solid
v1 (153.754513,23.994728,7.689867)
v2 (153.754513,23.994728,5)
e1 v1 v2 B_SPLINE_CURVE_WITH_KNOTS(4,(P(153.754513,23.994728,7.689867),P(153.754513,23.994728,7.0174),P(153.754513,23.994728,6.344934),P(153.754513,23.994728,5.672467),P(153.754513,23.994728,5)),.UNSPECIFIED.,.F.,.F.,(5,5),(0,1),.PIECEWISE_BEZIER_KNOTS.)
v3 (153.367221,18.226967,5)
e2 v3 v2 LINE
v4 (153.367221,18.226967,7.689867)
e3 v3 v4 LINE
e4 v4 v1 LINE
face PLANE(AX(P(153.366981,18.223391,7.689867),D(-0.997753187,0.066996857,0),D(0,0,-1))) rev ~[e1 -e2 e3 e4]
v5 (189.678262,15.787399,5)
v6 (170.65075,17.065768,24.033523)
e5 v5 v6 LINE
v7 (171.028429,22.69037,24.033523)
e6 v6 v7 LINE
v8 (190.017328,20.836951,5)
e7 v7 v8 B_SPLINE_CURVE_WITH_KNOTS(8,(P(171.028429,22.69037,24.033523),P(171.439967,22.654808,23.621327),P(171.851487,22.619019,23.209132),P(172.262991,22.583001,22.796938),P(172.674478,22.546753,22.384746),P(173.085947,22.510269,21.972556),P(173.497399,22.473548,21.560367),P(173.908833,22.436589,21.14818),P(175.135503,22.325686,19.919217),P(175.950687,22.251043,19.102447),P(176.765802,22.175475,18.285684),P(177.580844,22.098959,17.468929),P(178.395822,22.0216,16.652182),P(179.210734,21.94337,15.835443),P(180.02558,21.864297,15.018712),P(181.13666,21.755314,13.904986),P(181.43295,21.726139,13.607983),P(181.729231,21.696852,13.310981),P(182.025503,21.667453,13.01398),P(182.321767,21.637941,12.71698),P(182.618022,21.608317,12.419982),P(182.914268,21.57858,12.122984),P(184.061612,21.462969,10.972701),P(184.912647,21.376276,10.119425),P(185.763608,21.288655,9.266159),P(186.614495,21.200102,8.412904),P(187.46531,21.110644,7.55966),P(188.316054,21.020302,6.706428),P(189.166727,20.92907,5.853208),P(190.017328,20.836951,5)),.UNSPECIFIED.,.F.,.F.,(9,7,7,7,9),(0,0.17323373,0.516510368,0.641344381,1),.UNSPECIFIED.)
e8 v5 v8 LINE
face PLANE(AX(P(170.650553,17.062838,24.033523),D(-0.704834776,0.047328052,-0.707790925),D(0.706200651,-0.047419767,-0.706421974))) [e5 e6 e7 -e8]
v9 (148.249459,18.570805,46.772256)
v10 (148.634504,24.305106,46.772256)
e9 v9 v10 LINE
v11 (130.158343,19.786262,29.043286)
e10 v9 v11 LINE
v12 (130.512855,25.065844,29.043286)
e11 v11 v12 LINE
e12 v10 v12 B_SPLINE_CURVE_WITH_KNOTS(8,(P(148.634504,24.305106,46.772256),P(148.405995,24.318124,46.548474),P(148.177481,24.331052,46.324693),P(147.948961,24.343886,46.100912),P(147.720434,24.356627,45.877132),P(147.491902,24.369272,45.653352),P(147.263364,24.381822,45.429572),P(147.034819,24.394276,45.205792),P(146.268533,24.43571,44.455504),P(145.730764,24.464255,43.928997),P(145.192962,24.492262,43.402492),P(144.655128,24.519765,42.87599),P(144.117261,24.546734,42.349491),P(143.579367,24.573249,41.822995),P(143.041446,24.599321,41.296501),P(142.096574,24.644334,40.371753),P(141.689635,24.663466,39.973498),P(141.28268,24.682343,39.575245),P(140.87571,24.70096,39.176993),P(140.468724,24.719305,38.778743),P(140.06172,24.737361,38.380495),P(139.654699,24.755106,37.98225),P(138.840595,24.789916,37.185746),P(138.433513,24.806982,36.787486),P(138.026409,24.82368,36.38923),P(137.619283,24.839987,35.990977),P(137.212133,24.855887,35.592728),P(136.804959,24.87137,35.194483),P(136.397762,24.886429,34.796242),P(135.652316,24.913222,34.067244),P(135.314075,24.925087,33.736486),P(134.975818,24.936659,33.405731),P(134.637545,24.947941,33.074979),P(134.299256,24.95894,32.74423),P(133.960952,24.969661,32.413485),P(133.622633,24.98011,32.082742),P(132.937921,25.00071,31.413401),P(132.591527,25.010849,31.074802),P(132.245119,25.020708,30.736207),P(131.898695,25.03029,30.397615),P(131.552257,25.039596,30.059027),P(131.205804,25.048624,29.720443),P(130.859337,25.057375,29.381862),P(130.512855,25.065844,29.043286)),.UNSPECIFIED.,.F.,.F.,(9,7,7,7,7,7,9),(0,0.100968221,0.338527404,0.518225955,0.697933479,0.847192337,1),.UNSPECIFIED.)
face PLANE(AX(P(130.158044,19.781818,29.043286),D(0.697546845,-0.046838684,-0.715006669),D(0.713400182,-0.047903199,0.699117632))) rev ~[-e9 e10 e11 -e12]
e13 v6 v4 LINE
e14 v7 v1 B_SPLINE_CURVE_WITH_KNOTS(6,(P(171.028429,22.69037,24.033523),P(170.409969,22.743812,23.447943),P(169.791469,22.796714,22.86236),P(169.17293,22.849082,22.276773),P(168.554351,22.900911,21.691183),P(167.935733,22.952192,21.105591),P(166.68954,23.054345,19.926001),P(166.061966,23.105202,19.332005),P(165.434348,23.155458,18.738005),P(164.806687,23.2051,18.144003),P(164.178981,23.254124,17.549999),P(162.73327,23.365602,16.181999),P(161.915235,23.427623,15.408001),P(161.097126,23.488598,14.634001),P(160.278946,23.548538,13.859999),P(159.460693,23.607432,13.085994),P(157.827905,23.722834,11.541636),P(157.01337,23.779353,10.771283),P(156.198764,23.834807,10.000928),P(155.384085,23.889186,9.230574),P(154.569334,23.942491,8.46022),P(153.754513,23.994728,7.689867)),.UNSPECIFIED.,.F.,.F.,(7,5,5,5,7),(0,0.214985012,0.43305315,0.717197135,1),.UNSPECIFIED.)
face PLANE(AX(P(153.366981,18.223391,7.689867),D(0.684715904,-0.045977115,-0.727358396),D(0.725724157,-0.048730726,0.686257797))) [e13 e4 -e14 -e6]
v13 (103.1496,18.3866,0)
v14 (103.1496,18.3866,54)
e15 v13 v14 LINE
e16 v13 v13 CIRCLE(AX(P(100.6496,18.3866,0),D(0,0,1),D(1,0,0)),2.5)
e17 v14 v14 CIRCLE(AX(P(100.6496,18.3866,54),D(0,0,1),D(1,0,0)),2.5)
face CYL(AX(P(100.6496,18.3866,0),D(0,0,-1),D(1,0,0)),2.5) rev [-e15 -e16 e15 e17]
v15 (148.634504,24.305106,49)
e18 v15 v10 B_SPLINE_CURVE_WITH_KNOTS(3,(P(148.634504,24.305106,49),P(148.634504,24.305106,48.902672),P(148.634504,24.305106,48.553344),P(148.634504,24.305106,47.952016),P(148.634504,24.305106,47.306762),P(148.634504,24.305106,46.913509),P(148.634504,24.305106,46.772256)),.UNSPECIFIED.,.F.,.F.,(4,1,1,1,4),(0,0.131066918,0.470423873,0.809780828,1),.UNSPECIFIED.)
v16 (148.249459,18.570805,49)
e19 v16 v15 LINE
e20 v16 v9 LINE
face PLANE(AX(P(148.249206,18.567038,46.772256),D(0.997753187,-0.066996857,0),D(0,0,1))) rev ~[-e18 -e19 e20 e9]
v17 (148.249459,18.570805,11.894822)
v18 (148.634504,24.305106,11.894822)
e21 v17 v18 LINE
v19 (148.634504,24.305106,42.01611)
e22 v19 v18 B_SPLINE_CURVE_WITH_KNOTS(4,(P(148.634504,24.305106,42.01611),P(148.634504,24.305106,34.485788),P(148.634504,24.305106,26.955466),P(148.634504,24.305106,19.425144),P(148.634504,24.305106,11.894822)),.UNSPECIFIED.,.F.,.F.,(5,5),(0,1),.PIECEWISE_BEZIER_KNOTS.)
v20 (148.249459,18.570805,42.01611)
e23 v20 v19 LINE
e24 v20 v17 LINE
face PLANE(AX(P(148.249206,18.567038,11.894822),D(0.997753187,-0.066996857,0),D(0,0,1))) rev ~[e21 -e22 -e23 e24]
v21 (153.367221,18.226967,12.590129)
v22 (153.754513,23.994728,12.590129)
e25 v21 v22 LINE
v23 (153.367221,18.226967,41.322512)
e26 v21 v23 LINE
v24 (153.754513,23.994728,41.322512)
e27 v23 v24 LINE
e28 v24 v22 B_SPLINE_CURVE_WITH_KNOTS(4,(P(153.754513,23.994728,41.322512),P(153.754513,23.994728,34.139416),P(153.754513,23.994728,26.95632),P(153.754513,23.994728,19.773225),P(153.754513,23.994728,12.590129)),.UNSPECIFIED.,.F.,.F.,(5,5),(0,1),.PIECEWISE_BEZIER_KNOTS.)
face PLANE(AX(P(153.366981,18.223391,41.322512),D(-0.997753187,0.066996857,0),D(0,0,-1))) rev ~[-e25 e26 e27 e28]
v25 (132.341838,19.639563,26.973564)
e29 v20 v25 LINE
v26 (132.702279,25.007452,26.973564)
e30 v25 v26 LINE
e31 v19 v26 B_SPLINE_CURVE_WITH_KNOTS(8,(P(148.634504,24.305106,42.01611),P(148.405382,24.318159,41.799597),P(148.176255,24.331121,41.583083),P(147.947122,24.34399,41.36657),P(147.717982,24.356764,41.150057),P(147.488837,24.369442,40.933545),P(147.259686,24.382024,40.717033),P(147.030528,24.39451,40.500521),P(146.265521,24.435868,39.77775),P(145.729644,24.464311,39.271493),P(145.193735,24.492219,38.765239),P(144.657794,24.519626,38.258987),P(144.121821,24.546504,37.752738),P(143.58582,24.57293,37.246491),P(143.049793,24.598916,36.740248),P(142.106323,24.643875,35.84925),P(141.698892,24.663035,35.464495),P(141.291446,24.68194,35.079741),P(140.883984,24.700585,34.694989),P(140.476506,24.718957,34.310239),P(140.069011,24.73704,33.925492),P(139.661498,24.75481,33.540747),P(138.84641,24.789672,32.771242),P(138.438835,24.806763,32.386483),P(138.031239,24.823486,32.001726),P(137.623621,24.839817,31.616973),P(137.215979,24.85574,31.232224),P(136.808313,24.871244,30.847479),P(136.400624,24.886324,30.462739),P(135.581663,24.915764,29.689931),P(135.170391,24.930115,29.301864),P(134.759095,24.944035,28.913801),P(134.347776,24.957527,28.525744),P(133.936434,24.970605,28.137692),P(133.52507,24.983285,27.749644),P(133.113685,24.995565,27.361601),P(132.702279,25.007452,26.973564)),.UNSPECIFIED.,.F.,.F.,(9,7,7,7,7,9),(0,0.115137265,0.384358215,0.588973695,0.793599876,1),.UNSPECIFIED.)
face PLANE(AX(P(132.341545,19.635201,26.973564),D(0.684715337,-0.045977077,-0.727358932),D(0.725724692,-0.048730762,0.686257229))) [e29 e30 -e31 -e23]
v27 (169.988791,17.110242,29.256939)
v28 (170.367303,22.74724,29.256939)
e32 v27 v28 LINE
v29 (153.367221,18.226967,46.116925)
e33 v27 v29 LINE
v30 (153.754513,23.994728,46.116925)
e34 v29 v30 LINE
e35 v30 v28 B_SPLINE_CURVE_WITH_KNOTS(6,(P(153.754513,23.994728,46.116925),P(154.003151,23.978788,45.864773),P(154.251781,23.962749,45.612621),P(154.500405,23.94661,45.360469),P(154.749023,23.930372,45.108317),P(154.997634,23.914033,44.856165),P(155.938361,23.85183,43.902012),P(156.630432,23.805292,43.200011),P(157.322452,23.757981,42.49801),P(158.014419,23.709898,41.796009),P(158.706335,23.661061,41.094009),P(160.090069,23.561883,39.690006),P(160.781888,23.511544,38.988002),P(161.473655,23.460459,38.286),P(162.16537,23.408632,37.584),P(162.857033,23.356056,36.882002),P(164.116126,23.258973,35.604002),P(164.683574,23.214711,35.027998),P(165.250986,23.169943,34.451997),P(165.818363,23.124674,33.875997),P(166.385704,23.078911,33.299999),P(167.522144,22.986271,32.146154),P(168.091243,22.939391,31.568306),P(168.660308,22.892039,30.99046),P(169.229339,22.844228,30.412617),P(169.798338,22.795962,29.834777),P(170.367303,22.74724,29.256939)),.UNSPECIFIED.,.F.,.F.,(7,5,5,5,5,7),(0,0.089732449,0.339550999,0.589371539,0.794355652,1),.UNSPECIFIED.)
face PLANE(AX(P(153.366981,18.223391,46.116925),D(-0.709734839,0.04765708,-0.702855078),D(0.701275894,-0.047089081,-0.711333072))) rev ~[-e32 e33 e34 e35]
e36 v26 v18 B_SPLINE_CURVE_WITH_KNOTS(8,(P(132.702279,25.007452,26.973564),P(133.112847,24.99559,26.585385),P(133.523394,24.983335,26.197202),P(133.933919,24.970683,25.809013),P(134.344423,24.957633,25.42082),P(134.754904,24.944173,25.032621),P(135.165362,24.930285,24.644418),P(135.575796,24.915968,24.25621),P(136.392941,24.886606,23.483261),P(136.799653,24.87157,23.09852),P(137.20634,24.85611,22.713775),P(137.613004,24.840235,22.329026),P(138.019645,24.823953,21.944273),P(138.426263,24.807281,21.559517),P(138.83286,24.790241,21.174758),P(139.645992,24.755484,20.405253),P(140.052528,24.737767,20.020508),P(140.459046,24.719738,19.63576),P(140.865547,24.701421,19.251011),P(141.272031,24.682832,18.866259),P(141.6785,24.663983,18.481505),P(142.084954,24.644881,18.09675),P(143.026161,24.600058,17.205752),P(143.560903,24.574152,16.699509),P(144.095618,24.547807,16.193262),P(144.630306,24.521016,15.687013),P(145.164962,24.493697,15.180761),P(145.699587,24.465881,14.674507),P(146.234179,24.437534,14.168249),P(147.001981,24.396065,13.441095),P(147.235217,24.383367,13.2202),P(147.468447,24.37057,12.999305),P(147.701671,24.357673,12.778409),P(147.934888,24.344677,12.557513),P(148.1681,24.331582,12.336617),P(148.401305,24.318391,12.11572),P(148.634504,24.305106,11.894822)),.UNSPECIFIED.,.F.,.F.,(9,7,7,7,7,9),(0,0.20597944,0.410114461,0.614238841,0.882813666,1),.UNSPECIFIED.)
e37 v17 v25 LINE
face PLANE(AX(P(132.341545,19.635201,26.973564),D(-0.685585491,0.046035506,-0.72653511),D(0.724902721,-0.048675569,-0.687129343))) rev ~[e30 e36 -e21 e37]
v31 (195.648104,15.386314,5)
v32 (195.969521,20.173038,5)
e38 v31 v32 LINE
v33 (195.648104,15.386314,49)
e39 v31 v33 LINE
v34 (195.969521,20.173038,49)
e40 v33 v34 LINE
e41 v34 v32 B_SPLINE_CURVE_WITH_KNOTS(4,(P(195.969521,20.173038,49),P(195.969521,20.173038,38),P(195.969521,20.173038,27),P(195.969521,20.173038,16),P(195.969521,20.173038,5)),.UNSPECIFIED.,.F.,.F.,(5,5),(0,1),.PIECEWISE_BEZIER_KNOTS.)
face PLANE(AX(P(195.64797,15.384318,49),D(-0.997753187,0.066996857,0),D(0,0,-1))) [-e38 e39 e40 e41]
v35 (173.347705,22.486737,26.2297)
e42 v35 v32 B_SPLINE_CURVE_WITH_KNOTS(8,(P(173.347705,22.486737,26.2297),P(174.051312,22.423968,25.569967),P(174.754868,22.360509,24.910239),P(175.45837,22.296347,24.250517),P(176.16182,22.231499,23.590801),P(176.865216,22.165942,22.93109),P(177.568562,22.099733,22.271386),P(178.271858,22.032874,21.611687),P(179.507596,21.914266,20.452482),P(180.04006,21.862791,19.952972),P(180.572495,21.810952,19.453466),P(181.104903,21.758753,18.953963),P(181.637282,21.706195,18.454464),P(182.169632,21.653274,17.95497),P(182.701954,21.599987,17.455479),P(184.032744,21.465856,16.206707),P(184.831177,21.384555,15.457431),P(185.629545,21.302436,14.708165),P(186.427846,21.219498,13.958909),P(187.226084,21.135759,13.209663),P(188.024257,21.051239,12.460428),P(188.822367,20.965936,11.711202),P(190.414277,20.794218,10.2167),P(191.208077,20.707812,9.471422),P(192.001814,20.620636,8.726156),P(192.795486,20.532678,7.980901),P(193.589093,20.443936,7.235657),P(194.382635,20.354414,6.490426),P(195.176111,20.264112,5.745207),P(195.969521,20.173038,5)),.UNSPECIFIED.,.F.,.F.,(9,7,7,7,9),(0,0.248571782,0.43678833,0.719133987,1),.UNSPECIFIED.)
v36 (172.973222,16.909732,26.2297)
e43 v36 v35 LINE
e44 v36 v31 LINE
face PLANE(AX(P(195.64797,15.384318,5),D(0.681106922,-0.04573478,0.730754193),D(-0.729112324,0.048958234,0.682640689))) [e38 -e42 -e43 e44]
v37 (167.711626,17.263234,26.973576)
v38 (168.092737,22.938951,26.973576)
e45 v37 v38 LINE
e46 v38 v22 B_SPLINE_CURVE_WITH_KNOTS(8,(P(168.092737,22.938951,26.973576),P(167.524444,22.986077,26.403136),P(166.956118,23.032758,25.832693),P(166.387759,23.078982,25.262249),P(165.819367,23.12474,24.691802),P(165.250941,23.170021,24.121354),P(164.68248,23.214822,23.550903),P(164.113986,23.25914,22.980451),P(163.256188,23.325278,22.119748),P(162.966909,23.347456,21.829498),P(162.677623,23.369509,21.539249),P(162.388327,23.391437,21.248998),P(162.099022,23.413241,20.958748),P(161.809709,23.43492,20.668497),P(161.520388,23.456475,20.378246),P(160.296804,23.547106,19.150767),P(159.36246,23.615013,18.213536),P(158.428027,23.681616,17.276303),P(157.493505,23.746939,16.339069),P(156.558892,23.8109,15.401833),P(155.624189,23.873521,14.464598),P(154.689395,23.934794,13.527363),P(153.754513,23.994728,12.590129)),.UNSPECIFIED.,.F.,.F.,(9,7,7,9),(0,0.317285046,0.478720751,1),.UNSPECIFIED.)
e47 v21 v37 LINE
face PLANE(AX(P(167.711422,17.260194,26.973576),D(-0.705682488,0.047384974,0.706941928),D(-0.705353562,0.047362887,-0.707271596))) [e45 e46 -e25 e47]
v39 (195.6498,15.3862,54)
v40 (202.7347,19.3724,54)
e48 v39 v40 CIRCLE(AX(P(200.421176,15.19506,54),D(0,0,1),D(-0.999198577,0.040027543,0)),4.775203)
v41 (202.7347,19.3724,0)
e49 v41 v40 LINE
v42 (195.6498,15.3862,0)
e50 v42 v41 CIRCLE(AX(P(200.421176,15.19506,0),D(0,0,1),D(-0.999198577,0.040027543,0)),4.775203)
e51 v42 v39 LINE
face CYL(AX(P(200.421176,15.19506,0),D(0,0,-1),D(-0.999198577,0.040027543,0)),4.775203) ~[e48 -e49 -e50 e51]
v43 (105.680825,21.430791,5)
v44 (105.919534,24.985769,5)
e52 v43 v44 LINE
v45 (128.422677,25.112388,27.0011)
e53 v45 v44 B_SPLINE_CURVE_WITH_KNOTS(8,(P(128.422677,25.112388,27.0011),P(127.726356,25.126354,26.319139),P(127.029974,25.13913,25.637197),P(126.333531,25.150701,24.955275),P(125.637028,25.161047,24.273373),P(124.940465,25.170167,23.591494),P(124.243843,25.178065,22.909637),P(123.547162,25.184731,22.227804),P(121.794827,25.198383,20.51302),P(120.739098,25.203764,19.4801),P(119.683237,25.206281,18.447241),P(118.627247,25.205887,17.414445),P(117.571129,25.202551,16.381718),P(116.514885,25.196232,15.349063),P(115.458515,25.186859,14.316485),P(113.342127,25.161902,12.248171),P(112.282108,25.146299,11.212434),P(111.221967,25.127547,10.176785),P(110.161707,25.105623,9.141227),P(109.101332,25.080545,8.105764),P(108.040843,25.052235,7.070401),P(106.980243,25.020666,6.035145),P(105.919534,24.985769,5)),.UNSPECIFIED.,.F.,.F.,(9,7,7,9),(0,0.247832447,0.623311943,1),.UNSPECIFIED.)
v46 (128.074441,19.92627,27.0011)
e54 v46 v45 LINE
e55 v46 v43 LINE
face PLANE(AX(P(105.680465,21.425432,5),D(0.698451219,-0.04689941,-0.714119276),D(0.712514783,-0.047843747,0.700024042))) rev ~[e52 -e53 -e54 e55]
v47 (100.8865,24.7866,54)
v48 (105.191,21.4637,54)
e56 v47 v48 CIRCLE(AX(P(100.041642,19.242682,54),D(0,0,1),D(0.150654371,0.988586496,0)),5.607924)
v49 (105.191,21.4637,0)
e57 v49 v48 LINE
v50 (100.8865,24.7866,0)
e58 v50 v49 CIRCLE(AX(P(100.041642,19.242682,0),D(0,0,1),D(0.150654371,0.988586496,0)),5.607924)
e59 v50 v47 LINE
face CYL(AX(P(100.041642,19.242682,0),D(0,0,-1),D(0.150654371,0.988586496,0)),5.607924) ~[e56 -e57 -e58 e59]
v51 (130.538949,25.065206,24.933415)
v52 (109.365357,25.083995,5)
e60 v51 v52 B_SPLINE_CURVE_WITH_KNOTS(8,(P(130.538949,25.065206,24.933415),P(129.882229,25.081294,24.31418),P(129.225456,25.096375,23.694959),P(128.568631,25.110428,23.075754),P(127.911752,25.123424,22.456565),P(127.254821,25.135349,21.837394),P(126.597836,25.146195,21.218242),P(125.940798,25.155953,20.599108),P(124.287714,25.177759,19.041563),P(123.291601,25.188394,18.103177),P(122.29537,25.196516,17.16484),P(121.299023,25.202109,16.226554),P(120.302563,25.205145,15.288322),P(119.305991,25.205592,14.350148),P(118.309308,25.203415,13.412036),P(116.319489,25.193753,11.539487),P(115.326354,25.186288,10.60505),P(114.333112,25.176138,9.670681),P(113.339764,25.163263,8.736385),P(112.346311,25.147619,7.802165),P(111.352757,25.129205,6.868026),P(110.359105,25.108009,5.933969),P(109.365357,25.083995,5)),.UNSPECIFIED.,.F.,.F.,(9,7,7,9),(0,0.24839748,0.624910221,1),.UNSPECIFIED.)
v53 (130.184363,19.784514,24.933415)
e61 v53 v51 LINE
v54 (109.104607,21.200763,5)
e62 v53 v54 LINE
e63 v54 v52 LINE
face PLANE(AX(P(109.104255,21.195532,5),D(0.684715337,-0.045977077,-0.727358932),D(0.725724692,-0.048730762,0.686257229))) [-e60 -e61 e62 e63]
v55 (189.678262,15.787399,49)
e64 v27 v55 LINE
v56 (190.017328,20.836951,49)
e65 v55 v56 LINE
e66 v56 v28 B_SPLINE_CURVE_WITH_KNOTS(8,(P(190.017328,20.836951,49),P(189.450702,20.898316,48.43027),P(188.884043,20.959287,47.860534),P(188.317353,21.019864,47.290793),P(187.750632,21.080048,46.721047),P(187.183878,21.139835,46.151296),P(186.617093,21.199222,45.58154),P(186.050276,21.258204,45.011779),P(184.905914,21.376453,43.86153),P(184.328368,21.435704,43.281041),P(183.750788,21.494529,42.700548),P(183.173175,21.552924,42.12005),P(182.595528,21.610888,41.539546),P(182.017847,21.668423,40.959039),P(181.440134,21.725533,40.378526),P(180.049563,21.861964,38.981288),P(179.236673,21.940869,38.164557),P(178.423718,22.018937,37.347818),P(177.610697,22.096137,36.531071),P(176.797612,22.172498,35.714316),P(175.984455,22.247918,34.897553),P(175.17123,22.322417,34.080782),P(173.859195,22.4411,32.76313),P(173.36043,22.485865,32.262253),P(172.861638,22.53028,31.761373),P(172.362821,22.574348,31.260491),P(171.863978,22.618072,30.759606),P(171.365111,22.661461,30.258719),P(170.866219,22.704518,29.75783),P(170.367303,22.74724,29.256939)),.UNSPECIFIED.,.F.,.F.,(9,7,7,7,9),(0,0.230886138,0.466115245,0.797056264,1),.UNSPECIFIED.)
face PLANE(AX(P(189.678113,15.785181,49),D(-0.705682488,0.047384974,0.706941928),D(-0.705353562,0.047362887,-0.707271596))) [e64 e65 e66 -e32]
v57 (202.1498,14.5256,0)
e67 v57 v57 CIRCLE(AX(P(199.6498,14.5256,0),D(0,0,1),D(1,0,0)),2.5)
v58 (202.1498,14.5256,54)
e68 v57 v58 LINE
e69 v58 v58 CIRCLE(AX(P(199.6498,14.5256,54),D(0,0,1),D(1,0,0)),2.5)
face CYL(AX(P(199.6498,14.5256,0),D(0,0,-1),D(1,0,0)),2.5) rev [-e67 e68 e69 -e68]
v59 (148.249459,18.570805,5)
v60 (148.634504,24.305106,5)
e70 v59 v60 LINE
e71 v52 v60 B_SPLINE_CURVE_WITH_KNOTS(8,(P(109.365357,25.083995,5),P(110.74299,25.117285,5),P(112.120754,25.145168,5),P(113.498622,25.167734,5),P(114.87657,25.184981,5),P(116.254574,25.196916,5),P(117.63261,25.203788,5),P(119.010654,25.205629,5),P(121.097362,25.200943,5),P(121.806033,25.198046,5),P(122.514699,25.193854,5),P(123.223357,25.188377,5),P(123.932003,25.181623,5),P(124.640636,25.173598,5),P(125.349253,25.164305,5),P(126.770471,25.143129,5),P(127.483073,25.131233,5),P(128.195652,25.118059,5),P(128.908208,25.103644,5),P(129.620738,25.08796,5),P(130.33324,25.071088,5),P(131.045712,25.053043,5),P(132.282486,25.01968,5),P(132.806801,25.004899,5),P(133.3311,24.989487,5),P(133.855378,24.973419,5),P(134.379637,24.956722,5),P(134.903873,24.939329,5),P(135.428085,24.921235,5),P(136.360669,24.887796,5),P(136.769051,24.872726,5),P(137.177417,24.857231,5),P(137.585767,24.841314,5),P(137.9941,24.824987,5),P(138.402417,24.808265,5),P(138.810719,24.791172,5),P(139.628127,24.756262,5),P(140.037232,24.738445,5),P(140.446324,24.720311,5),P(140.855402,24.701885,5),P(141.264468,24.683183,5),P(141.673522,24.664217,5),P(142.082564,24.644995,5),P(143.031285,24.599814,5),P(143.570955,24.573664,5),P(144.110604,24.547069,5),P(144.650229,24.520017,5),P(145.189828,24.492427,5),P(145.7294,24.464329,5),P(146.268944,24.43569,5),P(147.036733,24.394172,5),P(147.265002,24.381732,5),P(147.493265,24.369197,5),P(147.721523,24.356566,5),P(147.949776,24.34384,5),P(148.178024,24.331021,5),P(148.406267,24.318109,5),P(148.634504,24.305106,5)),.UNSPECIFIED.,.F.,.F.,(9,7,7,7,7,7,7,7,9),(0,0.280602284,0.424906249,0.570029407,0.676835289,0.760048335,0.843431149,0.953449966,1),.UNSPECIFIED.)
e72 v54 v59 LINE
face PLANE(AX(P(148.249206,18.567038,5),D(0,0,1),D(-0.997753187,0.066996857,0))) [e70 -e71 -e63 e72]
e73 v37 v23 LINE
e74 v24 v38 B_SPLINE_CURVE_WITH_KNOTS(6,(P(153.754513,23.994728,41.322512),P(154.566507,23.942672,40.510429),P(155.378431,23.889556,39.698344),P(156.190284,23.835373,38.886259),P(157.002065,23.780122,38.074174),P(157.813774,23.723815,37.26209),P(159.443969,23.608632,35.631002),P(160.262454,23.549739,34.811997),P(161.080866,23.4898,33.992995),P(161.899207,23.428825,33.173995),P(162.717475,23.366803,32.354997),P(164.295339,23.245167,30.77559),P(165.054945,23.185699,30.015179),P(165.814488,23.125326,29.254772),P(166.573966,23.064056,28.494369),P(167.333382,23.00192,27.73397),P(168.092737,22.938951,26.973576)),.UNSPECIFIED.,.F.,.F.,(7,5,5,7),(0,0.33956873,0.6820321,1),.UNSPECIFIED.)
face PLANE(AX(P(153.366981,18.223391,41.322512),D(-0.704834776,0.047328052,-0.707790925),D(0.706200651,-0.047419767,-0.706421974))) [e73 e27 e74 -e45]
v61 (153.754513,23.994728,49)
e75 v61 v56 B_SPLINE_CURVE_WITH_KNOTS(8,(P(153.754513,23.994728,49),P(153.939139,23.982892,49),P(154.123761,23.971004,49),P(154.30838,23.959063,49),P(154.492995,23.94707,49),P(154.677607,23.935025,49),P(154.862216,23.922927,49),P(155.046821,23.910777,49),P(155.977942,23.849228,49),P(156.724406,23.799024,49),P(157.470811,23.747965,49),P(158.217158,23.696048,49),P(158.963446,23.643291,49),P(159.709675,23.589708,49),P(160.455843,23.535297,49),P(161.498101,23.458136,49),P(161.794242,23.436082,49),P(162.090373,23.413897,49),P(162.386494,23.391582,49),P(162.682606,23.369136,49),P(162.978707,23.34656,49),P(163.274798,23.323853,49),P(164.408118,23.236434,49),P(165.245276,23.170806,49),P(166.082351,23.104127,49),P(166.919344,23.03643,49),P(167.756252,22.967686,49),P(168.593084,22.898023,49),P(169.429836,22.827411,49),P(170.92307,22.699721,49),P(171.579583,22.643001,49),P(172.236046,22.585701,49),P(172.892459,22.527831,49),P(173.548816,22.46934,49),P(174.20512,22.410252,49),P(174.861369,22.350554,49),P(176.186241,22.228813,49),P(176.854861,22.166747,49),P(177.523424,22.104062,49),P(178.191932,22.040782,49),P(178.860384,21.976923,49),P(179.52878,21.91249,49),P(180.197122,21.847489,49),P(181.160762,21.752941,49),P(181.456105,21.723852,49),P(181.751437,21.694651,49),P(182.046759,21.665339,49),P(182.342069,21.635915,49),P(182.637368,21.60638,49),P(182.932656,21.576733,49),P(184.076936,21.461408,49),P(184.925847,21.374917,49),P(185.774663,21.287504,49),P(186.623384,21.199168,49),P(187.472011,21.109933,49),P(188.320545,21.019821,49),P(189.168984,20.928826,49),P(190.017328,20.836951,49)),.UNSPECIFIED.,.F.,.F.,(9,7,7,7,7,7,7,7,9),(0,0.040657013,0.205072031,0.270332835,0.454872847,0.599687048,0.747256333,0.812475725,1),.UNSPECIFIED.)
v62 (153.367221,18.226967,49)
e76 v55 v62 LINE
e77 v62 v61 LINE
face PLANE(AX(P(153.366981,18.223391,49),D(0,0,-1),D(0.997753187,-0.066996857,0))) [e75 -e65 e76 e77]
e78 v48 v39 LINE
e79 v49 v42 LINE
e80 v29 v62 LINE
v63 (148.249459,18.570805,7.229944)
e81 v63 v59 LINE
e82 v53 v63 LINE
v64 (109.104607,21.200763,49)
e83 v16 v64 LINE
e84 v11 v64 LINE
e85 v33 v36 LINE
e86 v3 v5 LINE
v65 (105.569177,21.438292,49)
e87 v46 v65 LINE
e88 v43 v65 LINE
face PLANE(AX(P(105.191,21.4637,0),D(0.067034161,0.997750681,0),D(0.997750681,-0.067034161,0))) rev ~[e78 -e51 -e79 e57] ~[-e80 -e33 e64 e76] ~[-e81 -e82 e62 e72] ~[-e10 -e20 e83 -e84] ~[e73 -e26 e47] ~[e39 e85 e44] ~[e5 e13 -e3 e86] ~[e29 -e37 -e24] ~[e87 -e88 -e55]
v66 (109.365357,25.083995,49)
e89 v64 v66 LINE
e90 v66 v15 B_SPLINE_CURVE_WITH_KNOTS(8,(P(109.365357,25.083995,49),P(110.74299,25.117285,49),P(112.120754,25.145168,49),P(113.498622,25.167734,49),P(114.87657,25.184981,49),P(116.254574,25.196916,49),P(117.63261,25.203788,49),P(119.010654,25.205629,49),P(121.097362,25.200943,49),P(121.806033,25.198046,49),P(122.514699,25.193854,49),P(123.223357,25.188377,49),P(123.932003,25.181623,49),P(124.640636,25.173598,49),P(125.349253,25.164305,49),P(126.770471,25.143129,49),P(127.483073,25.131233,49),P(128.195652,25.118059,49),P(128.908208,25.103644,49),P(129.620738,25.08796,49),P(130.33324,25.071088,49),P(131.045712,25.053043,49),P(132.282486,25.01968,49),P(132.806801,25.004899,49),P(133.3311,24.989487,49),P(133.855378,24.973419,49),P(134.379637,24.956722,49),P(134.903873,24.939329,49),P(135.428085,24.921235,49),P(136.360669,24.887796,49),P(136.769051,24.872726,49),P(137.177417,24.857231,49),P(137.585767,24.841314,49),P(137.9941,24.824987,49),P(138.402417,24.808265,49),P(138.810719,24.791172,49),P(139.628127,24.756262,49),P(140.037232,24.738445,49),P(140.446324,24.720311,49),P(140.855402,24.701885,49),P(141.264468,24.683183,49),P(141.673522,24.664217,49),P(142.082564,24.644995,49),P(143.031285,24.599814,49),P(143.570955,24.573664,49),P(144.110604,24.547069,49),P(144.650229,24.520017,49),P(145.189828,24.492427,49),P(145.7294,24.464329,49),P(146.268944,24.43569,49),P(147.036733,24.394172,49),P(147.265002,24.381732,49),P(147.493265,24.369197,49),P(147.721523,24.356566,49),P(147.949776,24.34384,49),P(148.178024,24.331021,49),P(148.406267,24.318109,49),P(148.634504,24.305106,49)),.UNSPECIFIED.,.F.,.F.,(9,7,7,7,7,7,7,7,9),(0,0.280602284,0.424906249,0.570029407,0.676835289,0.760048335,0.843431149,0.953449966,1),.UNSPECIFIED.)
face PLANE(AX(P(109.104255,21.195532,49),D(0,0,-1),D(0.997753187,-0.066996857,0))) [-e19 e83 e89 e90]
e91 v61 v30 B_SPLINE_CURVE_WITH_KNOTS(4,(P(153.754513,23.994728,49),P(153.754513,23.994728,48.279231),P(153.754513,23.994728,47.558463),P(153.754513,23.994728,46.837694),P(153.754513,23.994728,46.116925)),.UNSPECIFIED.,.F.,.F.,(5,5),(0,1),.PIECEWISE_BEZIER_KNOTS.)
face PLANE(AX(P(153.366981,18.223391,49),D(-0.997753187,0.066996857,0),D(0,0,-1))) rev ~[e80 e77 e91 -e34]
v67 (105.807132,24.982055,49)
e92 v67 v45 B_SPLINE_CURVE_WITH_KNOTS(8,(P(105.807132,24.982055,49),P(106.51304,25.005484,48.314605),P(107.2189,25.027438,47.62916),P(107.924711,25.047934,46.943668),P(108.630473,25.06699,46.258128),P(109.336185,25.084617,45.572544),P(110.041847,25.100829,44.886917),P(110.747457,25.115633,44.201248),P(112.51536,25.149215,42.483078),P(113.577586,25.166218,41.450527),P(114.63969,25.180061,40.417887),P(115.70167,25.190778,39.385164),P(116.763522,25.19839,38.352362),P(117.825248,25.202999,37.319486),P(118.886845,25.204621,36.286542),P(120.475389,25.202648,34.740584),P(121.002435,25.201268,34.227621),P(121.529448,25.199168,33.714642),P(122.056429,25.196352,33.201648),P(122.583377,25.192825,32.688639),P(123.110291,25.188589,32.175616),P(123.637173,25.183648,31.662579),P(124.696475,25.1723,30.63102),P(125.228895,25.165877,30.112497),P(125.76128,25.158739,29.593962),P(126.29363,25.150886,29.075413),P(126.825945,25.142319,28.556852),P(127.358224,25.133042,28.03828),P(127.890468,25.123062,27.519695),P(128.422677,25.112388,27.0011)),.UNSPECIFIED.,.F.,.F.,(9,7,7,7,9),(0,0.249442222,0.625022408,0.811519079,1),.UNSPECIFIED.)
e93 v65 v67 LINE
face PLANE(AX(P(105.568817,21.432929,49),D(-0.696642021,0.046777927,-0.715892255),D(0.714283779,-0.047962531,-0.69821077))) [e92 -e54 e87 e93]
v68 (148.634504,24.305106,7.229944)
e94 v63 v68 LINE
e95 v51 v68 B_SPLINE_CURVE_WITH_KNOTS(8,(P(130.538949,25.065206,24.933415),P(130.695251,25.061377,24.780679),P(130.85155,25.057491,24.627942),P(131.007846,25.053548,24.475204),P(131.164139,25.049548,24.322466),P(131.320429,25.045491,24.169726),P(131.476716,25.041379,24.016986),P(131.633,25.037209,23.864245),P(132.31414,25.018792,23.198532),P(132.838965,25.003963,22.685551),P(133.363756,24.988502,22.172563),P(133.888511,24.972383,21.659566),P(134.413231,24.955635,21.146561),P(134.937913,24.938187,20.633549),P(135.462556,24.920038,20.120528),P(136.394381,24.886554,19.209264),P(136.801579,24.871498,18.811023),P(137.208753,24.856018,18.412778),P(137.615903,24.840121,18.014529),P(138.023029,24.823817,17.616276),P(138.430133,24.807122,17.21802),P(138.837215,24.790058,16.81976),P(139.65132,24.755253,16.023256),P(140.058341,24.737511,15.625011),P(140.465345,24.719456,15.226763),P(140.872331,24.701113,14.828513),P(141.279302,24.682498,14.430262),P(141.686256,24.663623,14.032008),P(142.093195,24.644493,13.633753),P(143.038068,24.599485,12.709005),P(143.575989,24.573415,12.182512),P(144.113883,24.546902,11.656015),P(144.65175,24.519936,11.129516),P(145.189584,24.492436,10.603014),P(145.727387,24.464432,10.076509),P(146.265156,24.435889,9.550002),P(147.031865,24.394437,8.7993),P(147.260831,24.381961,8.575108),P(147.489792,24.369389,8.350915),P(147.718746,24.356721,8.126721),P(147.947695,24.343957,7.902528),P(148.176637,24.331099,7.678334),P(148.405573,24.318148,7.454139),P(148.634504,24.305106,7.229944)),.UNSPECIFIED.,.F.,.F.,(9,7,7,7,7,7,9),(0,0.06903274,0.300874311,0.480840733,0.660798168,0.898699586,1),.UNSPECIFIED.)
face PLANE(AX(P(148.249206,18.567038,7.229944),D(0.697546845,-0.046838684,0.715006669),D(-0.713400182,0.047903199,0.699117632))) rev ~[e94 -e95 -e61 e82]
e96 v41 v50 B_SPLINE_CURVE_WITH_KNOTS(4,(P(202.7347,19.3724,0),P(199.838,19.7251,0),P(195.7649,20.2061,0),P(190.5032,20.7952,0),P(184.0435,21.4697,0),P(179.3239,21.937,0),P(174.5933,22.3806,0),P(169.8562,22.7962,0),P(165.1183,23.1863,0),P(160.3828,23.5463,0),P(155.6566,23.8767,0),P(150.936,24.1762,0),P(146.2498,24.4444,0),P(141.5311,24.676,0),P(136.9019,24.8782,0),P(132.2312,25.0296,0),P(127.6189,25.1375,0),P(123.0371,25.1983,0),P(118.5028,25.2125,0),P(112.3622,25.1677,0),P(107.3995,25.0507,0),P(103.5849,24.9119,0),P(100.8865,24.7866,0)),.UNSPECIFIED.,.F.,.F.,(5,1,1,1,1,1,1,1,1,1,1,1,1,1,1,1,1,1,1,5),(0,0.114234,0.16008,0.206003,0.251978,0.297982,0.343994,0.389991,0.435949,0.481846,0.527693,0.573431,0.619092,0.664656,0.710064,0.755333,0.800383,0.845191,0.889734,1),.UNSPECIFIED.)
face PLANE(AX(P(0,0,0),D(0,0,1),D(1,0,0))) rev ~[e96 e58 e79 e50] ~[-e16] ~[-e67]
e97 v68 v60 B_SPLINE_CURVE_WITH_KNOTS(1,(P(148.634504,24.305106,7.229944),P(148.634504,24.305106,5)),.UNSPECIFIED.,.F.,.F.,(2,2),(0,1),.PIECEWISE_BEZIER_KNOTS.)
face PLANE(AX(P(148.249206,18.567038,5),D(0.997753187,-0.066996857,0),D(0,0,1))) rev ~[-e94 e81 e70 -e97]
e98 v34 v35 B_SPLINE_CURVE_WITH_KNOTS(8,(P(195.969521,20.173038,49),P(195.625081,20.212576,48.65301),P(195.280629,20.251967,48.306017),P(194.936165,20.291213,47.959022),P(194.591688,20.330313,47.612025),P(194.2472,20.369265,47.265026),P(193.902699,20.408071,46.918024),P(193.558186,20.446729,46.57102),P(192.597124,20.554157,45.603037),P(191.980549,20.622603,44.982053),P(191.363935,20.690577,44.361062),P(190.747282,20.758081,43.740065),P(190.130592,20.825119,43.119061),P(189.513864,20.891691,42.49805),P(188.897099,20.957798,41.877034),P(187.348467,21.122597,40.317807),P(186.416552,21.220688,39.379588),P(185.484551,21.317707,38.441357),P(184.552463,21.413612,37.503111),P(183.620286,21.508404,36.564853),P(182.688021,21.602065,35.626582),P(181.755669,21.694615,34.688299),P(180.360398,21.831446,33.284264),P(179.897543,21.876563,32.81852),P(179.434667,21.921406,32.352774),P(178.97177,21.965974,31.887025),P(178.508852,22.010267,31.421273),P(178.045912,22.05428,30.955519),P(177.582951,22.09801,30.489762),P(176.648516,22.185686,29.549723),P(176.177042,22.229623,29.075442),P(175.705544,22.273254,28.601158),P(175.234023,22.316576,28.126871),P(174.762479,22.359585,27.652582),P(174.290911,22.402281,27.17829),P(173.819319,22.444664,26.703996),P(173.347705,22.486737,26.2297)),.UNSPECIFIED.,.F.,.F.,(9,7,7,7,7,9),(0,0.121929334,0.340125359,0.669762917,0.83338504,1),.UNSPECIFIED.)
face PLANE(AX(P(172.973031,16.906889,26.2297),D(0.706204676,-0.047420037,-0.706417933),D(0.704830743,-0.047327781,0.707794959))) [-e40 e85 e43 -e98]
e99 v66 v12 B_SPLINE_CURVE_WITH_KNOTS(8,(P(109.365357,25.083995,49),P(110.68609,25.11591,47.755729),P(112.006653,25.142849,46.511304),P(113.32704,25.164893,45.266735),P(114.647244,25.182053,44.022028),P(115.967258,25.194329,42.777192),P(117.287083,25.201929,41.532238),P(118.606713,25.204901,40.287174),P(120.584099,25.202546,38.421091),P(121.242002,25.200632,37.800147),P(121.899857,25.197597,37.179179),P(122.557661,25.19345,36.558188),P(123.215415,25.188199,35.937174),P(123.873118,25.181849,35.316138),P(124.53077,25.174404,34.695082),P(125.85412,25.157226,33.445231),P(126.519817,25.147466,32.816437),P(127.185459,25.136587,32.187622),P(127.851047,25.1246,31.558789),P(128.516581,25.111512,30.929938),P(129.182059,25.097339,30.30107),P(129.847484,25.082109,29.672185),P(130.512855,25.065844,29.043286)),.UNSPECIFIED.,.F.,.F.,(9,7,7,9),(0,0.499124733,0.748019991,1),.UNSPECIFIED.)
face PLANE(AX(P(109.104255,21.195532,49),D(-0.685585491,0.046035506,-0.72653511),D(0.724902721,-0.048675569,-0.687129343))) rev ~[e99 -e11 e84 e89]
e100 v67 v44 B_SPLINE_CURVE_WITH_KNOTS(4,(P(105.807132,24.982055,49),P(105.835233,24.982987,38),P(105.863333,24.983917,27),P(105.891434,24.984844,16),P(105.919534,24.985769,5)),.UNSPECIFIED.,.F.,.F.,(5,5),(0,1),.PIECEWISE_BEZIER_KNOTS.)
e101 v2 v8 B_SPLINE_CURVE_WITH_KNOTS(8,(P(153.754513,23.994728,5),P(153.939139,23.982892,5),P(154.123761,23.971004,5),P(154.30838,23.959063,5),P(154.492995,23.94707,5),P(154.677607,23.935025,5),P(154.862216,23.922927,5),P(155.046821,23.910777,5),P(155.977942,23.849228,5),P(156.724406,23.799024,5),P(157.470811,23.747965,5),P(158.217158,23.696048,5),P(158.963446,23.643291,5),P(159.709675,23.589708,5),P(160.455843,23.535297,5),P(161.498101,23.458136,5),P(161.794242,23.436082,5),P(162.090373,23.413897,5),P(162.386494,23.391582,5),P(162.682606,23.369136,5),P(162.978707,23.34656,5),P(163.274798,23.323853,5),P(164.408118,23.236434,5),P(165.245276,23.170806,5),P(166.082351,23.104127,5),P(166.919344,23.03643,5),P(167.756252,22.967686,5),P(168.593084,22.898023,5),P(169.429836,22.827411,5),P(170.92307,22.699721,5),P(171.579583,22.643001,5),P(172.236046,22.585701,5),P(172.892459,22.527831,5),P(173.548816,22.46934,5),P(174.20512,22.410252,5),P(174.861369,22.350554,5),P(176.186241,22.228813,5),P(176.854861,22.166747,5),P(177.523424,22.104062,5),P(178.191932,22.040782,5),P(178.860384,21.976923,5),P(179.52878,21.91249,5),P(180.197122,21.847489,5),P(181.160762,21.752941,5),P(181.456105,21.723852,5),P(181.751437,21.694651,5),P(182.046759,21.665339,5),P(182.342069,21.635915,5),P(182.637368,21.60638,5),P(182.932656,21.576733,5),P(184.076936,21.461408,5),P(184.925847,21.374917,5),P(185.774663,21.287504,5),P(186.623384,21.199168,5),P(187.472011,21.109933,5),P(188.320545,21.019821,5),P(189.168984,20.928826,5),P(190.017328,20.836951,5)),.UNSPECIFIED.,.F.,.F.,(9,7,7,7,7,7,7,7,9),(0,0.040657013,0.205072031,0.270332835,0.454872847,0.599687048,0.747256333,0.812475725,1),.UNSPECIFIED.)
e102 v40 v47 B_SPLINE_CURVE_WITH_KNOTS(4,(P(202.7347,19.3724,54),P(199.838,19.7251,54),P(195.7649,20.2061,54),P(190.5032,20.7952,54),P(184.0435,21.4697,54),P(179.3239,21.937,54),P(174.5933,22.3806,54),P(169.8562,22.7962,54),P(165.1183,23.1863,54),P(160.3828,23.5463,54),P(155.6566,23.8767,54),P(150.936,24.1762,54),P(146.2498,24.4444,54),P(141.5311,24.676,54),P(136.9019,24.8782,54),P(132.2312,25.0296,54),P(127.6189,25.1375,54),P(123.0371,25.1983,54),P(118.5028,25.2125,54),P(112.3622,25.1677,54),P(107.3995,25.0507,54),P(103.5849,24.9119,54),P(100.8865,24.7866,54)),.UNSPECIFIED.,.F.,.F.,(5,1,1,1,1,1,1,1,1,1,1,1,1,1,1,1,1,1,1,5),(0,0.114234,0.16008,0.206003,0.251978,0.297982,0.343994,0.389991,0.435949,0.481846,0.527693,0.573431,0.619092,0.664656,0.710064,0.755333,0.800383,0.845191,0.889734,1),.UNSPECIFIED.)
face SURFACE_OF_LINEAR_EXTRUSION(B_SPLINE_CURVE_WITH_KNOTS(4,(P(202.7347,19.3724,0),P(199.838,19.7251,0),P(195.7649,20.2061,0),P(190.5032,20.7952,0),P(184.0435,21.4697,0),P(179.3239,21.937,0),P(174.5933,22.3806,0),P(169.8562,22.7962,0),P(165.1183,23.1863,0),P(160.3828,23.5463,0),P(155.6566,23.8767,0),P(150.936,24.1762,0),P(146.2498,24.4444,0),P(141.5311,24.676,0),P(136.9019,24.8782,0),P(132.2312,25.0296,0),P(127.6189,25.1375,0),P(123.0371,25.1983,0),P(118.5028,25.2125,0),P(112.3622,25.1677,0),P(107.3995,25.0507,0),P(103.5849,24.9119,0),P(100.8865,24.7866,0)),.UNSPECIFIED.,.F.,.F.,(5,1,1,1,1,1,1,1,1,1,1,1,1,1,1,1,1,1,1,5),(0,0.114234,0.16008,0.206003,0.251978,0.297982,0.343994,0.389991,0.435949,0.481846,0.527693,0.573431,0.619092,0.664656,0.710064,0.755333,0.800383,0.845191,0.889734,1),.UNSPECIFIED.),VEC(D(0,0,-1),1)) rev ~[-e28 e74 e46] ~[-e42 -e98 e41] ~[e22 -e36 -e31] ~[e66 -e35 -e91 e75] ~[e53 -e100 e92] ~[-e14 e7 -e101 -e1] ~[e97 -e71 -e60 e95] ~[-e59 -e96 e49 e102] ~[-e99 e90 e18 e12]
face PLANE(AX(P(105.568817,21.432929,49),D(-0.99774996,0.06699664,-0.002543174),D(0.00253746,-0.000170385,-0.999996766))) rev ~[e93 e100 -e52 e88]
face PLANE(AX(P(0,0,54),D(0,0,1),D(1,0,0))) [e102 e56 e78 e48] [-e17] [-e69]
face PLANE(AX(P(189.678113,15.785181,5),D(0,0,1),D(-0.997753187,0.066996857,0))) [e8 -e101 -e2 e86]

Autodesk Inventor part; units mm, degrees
ref_plane "YZ Plane" through (0, 0, 0) normal (1, 0, 0) x (0, 1, 0)
ref_plane "XZ Plane" through (0, 0, 0) normal (0, 1, 0) x (-1, 0, 0)
ref_plane "XY Plane" through (0, 0, 0) normal (0, 0, 1) x (1, 0, 0)
sketch "Sketch2" plane through (0, 0, 0) normal (0, 0, 1) x (1, 0, 0)
  spline S0 degree 5 number of poles 204
  circle A0 centre (79.5137, 4.5678) radius 15.1135
  line L0 (79.5137, 4.5678) -> (79.5137, -15.4763) construction
  line L1 (79.5137, 4.5678) -> (209.6498, 4.5678) construction
  line L2 (319.6498, 0.0573) -> (219.6498, 0.0573) construction
  line L3 (219.6499, 18.7671) -> (219.6499, 18.7671) construction
  line L4 (28.0055, 4.5054) -> (28.0055, -2.4946)
  line L5 (19.6272, 1.0326) -> (319.6498, 0.0573) construction
  line L6 (49.7105, 14.4213) -> (55.6079, 14.4213)
  line L7 (49.7104, -8.4915) -> (55.6078, -8.4915)
  line L8 (28.0055, 4.5054) -> (49.7105, 14.4213)
  line L9 (28.0055, -2.4946) -> (49.7104, -8.4915)
  line L10 (55.6079, 14.4213) -> (55.6079, 20.8729)
  line L11 (55.6078, -8.4915) -> (55.6078, -14.1513)
  line L12 (108.6496, 16.3299) -> (108.6496, -7.1942)
  line L13 (110.8735, -9.1817) -> (193.8736, 0.1678)
  line L14 (195.6498, 2.1552) -> (195.6498, 6.9805)
  arc A1 (108.6496, -7.1942) -> (110.8735, -9.1817) centre (110.6496, -7.1942) ccw
  arc A2 (193.8736, 0.1678) -> (195.6498, 2.1552) centre (193.6498, 2.1552) ccw
  circle A3 centre (209.6498, 0.0573) radius 6.214
  line L15 (108.6496, 18.5678) -> (195.6498, 8.7678)
  circle A4 centre (100.6496, 18.3866) radius 2.5
  circle A5 centre (199.6498, 14.5256) radius 2.5
  spline S1 degree 4 poles (202.7347, 19.3724) (199.838, 19.7251) (195.7649, 20.2061) (190.5032, 20.7952) (184.0435, 21.4697) (179.3239, 21.937) (174.5933, 22.3806) (169.8562, 22.7962) (165.1183, 23.1863) (160.3828, 23.5463) (155.6566, 23.8767) (150.936, 24.1762) (146.2498, 24.4444) (141.5311, 24.676) (136.9019, 24.8782) (132.2312, 25.0296) (127.6189, 25.1375) (123.0371, 25.1983) (118.5028, 25.2125) (112.3622, 25.1677) (107.3995, 25.0507) (103.5849, 24.9119) (100.8865, 24.7866) knots 0 0 0 0 0 0.114234 0.16008 0.206003 0.251978 0.297982 0.343994 0.389991 0.435949 0.481846 0.527693 0.573431 0.619092 0.664656 0.710064 0.755333 0.800383 0.845191 0.889734 1 1 1 1 1
  line L16 (105.191, 21.4637) -> (195.6498, 15.3862)
  arc A6 (100.8865, 24.7866) -> (105.191, 21.4637) centre (100.0416, 19.2427) ccw
  arc A7 (195.6498, 15.3862) -> (202.7347, 19.3724) centre (200.4212, 15.1951) ccw
  point P0 (0, 0)
  point P1 (319.5771, 0.0748)
  point P2 (319.3573, 0.1272)
  point P3 (318.9916, 0.2136)
  point P4 (318.4804, 0.3362)
  point P5 (317.8238, 0.4909)
  point P6 (317.0222, 0.6802)
  point P7 (316.0769, 0.9024)
  point P8 (314.9885, 1.1569)
  point P9 (313.7582, 1.443)
  point P10 (312.3866, 1.7598)
  point P11 (310.8752, 2.1063)
  point P12 (309.2258, 2.4819)
  point P13 (307.4393, 2.8854)
  point P14 (305.5178, 3.3153)
  point P15 (303.4628, 3.7707)
  point P16 (301.2764, 4.2501)
  point P17 (298.9607, 4.7526)
  point P18 (296.5175, 5.2764)
  point P19 (293.9492, 5.8203)
  point P20 (291.2585, 6.3828)
  point P21 (288.4478, 6.9627)
  point P22 (285.5195, 7.5582)
  point P23 (282.4766, 8.1678)
  point P24 (279.3218, 8.79)
  point P25 (276.0584, 9.4236)
  point P26 (272.6891, 10.0668)
  point P27 (269.2175, 10.7178)
  point P28 (265.6469, 11.3757)
  point P29 (261.9803, 12.0381)
  point P30 (258.2219, 12.7041)
  point P31 (254.3747, 13.3722)
  point P32 (250.4426, 14.0403)
  point P33 (246.4295, 14.7072)
  point P34 (242.339, 15.3714)
  point P35 (238.1756, 16.0311)
  point P36 (233.9428, 16.6851)
  point P37 (229.6454, 17.3316)
  point P38 (225.2869, 17.9694)
  point P39 (220.8723, 18.5967)
  point P40 (216.4049, 19.2123)
  point P41 (211.8901, 19.8144)
  point P42 (207.332, 20.4015)
  point P43 (202.7347, 20.9724)
  point P44 (198.1034, 21.5256)
  point P45 (193.4423, 22.0596)
  point P46 (188.7563, 22.5726)
  point P47 (184.0499, 23.0637)
  point P48 (179.3279, 23.5314)
  point P49 (174.5948, 23.9745)
  point P50 (169.8554, 24.3909)
  point P51 (165.1148, 24.7803)
  point P52 (160.3775, 25.1406)
  point P53 (155.6479, 25.4709)
  point P54 (150.9316, 25.7703)
  point P55 (146.233, 26.0373)
  point P56 (141.557, 26.2707)
  point P57 (136.8821, 26.4681)
  point P58 (132.2209, 26.6211)
  point P59 (127.5964, 26.7282)
  point P60 (123.0133, 26.7888)
  point P61 (118.4727, 26.8026)
  point P62 (113.9902, 26.7693)
  point P63 (109.5601, 26.6886)
  point P64 (105.191, 26.5611)
  point P65 (100.8865, 26.3866)
  point P66 (96.6524, 26.1647)
  point P67 (92.4927, 25.8975)
  point P68 (88.412, 25.5858)
  point P69 (84.409, 25.3061)
  point P70 (80.8803, 24.9766)
  point P71 (76.6761, 24.4558)
  point P72 (72.9631, 23.8932)
  point P73 (69.3402, 23.3612)
  point P74 (65.8208, 22.7938)
  point P75 (62.4086, 22.1884)
  point P76 (59.1071, 21.5462)
  point P77 (52.8493, 20.1606)
  point P78 (49.7107, 19.4213)
  point P79 (47.0737, 18.6508)
  point P80 (44.3741, 17.8542)
  point P81 (41.8033, 17.0323)
  point P82 (39.3638, 16.1875)
  point P83 (37.0582, 15.3214)
  point P84 (34.8883, 14.4364)
  point P85 (32.8567, 13.534)
  point P86 (30.9649, 12.6166)
  point P87 (29.2144, 11.686)
  point P88 (27.607, 10.7437)
  point P89 (26.1442, 9.7921)
  point P90 (24.8269, 8.8324)
  point P91 (23.6566, 7.8664)
  point P92 (22.6337, 6.8952)
  point P93 (21.7592, 5.9208)
  point P94 (21.0335, 4.944)
  point P95 (20.4573, 3.966)
  point P96 (20.031, 2.9874)
  point P97 (19.7541, 2.0097)
  point P98 (19.6496, 0.0598)
  point P99 (19.8207, -0.9032)
  point P100 (20.1378, -1.8356)
  point P101 (20.6004, -2.7401)
  point P102 (21.2081, -3.6158)
  point P103 (21.9599, -4.4627)
  point P104 (22.8545, -5.2806)
  point P105 (23.891, -6.069)
  point P106 (25.0682, -6.8277)
  point P107 (26.3845, -7.5561)
  point P108 (27.8383, -8.2539)
  point P109 (29.4283, -8.9211)
  point P110 (31.1522, -9.5571)
  point P111 (33.0086, -10.1613)
  point P112 (34.9949, -10.734)
  point P113 (37.1093, -11.2746)
  point P114 (39.3497, -11.7828)
  point P115 (41.7134, -12.2586)
  point P116 (44.1979, -12.702)
  point P117 (46.8014, -13.1127)
  point P118 (49.7105, -13.4915)
  point P119 (52.3532, -13.8357)
  point P120 (58.3469, -14.4294)
  point P121 (61.5023, -14.678)
  point P122 (64.7591, -14.8953)
  point P123 (68.1149, -15.0813)
  point P124 (71.5661, -15.237)
  point P125 (75.1094, -15.3627)
  point P126 (78.7418, -15.4596)
  point P127 (82.46, -15.528)
  point P128 (86.2607, -15.5691)
  point P129 (90.14, -15.5838)
  point P130 (94.0946, -15.5733)
  point P131 (98.1212, -15.5388)
  point P132 (102.2159, -15.4812)
  point P133 (106.3751, -15.4023)
  point P134 (110.5952, -15.303)
  point P135 (114.872, -15.1845)
  point P136 (119.2022, -15.0489)
  point P137 (123.5813, -14.8971)
  point P138 (128.006, -14.7306)
  point P139 (132.4718, -14.5509)
  point P140 (136.9748, -14.3598)
  point P141 (141.5285, -14.1576)
  point P142 (146.1365, -13.9383)
  point P143 (150.7679, -13.7022)
  point P144 (155.4191, -13.4499)
  point P145 (160.0853, -13.1829)
  point P146 (164.7617, -12.9024)
  point P147 (169.4444, -12.6099)
  point P148 (174.1283, -12.306)
  point P149 (178.8092, -11.9925)
  point P150 (183.4823, -11.67)
  point P151 (188.1434, -11.34)
  point P152 (192.7877, -11.0037)
  point P153 (197.4107, -10.6614)
  point P154 (202.0079, -10.3149)
  point P155 (206.5747, -9.9645)
  point P156 (211.1069, -9.6117)
  point P157 (215.5999, -9.2568)
  point P158 (220.0489, -8.9007)
  point P159 (224.4503, -8.5446)
  point P160 (228.7987, -8.1885)
  point P161 (233.0906, -7.8339)
  point P162 (237.3214, -7.4808)
  point P163 (241.4866, -7.1298)
  point P164 (245.5828, -6.7821)
  point P165 (249.6052, -6.4377)
  point P166 (253.5502, -6.0972)
  point P167 (257.4136, -5.7612)
  point P168 (261.1915, -5.4303)
  point P169 (264.88, -5.1051)
  point P170 (268.4758, -4.7856)
  point P171 (271.9747, -4.4724)
  point P172 (275.3734, -4.1661)
  point P173 (278.6686, -3.867)
  point P174 (281.8564, -3.5757)
  point P175 (284.9344, -3.2925)
  point P176 (287.8984, -3.018)
  point P177 (290.7463, -2.7525)
  point P178 (293.4745, -2.4963)
  point P179 (296.0806, -2.2503)
  point P180 (298.5616, -2.0142)
  point P181 (300.9151, -1.7892)
  point P182 (303.1387, -1.575)
  point P183 (305.23, -1.3728)
  point P184 (307.1866, -1.1823)
  point P185 (309.007, -1.0041)
  point P186 (310.6885, -0.8385)
  point P187 (312.2302, -0.6861)
  point P188 (313.6297, -0.5471)
  point P189 (314.8861, -0.4221)
  point P190 (315.9976, -0.3107)
  point P191 (316.9636, -0.214)
  point P192 (317.7826, -0.1311)
  point P193 (318.4538, -0.0643)
  point P194 (318.9765, -0.0102)
  point P195 (319.3503, 0.027)
  point P196 (319.5743, 0.0497)
  point P197 (28.0055, 1.0054)
  point P198 (108.6496, -9.4322)
  point P199 (195.6498, 0.3678)
  dimension "d37" = 30.227
  dimension "d2" = 300.0001
  dimension "d19" = 110
  dimension "d22" = 100
  dimension "d23" = 7
  dimension "d24" = 5
  dimension "d25" = 5
  dimension "d30" = 28
  dimension "d31" = 8.4
  dimension "d33" = 14
  dimension "d39" = 59.8865
  dimension "d42" = 12.428
  dimension "d43" = 5
  dimension "d44" = 5
  dimension "d49" = 1.6
  dimension "d50" = 1.6
  dimension "d51" = 1.6
  dimension "d52" = 1.6
  dimension "d53" = 1.6
  dimension "d54" = 1.6
  dimension "d55" = 1.6
  dimension "d56" = 1.6
  dimension "d57" = 1.6
  dimension "d58" = 1.6
  dimension "d59" = 1.6
  dimension "d60" = 1.6
  dimension "d61" = 1.6
  dimension "d62" = 1.6
  dimension "d63" = 1.6
  dimension "d64" = 1.6
  dimension "d65" = 1.6
  dimension "d66" = 1.6
  dimension "d67" = 1.6
  dimension "d68" = 1.6
  dimension "d69" = 1.6
  dimension "d70" = 1.6
  dimension "d72" = 1.6
  dimension "d75" = 4
  dimension "d76" = 7
  dimension "d90" = 8
  dimension "d91" = 8
extrude "Extrusion8" add sketch "Sketch2" along normal blind 54 contours A7 L16 A6 S1
sketch "Sketch3" plane through (195.6498, 15.3862, 0) normal (-0.067, -0.9978, 0) x (0.9978, -0.067, 0)
  line L0 (-0.0017, 49) -> (-0.0017, 5)
  line L1 (-0.0017, 5) -> (-22.7277, 26.2297)
  line L2 (-22.7277, 26.2297) -> (-0.0017, 49)
  line L3 (-67.7277, 27.0011) -> (-45.2277, 49.0011)
  line L4 (-45.2277, 49.0011) -> (-45.2277, 5.0011)
  line L5 (-45.2277, 5.0011) -> (-67.7277, 27.0011)
  line L6 (-45.2277, 49.0011) -> (-22.7277, 26.2297)
  line L7 (-45.2277, 5.0011) -> (-22.7277, 26.2297)
  line L8 (9.5487, 54) -> (0, 54) projected
  line L9 (9.5487, 0) -> (0, 0) projected
  line L10 (-90.2837, 49) -> (-90.1718, 5)
  line L11 (-90.1718, 5) -> (-67.7277, 27.0011)
  line L12 (-90.2837, 49) -> (-67.7277, 27.0011)
  line L13 (-90.0437, 54) -> (-101.2596, 54) projected
  line L14 (-90.0437, 0) -> (-101.2596, 0) projected
  line L15 (-90.2837, 49) -> (-0.0017, 49)
  line L16 (-0.0017, 5) -> (-90.1718, 5)
  line L17 (-86.7403, 49) -> (-45.0868, 9.6057)
  line L18 (-86.7403, 5) -> (-45.2277, 44.1668)
  line L19 (-45.2277, 44.1668) -> (-5.985, 5)
  line L20 (-5.985, 49) -> (-45.2277, 9.739)
  line L21 (-47.5072, 5) -> (-47.5072, 49)
  line L22 (-42.3779, 49) -> (-42.3779, 5)
  point P0 (-194.1783, 0)
  point P1 (-90.6627, 0)
  point P2 (-45.2277, 27.0011)
  point P3 (6.8018, 54)
  point P4 (6.8018, 0)
  point P5 (-95.1802, 54)
  point P6 (-90.6627, 54)
  point P7 (-95.1802, 0)
  point P8 (-28.0012, 26.9736)
  point P9 (-63.4507, 26.9736)
  point P10 (-25.7189, 29.2569)
  point P11 (-45.2266, 49)
  point P12 (-65.6391, 29.0433)
  point P13 (-45.2288, 49)
  point P14 (-25.0554, 24.0335)
  point P15 (-65.6131, 24.9334)
  point P16 (-42.3779, 7.6899)
  point P17 (-42.3779, 41.3225)
  point P18 (-42.3779, 12.5902)
  point P19 (-42.3779, 46.1169)
  point P20 (-47.5072, 46.7723)
  point P21 (-47.5072, 7.23)
  point P22 (-47.5072, 11.8949)
  point P23 (-47.5072, 42.0161)
  dimension "d81" = 22.5
  dimension "d82" = 22.5
  dimension "d83" = 5
  dimension "d84" = 5
  dimension "d85" = 22.5
  dimension "d86" = 5
  dimension "d87" = 5
extrude "Extrusion9" cut sketch "Sketch3" against normal blind 10 contours L0 L1 L2 | L20 L6 L22 L15 | L16 L22 L7 L19 | L20 L22 L19 | L3 L17 L15 L21 | L21 L16 L18 L5 | L21 L17 L18 | L11 L10 L12
properties part number "2414 basic aerofoil" material "Plywood, Finish"
